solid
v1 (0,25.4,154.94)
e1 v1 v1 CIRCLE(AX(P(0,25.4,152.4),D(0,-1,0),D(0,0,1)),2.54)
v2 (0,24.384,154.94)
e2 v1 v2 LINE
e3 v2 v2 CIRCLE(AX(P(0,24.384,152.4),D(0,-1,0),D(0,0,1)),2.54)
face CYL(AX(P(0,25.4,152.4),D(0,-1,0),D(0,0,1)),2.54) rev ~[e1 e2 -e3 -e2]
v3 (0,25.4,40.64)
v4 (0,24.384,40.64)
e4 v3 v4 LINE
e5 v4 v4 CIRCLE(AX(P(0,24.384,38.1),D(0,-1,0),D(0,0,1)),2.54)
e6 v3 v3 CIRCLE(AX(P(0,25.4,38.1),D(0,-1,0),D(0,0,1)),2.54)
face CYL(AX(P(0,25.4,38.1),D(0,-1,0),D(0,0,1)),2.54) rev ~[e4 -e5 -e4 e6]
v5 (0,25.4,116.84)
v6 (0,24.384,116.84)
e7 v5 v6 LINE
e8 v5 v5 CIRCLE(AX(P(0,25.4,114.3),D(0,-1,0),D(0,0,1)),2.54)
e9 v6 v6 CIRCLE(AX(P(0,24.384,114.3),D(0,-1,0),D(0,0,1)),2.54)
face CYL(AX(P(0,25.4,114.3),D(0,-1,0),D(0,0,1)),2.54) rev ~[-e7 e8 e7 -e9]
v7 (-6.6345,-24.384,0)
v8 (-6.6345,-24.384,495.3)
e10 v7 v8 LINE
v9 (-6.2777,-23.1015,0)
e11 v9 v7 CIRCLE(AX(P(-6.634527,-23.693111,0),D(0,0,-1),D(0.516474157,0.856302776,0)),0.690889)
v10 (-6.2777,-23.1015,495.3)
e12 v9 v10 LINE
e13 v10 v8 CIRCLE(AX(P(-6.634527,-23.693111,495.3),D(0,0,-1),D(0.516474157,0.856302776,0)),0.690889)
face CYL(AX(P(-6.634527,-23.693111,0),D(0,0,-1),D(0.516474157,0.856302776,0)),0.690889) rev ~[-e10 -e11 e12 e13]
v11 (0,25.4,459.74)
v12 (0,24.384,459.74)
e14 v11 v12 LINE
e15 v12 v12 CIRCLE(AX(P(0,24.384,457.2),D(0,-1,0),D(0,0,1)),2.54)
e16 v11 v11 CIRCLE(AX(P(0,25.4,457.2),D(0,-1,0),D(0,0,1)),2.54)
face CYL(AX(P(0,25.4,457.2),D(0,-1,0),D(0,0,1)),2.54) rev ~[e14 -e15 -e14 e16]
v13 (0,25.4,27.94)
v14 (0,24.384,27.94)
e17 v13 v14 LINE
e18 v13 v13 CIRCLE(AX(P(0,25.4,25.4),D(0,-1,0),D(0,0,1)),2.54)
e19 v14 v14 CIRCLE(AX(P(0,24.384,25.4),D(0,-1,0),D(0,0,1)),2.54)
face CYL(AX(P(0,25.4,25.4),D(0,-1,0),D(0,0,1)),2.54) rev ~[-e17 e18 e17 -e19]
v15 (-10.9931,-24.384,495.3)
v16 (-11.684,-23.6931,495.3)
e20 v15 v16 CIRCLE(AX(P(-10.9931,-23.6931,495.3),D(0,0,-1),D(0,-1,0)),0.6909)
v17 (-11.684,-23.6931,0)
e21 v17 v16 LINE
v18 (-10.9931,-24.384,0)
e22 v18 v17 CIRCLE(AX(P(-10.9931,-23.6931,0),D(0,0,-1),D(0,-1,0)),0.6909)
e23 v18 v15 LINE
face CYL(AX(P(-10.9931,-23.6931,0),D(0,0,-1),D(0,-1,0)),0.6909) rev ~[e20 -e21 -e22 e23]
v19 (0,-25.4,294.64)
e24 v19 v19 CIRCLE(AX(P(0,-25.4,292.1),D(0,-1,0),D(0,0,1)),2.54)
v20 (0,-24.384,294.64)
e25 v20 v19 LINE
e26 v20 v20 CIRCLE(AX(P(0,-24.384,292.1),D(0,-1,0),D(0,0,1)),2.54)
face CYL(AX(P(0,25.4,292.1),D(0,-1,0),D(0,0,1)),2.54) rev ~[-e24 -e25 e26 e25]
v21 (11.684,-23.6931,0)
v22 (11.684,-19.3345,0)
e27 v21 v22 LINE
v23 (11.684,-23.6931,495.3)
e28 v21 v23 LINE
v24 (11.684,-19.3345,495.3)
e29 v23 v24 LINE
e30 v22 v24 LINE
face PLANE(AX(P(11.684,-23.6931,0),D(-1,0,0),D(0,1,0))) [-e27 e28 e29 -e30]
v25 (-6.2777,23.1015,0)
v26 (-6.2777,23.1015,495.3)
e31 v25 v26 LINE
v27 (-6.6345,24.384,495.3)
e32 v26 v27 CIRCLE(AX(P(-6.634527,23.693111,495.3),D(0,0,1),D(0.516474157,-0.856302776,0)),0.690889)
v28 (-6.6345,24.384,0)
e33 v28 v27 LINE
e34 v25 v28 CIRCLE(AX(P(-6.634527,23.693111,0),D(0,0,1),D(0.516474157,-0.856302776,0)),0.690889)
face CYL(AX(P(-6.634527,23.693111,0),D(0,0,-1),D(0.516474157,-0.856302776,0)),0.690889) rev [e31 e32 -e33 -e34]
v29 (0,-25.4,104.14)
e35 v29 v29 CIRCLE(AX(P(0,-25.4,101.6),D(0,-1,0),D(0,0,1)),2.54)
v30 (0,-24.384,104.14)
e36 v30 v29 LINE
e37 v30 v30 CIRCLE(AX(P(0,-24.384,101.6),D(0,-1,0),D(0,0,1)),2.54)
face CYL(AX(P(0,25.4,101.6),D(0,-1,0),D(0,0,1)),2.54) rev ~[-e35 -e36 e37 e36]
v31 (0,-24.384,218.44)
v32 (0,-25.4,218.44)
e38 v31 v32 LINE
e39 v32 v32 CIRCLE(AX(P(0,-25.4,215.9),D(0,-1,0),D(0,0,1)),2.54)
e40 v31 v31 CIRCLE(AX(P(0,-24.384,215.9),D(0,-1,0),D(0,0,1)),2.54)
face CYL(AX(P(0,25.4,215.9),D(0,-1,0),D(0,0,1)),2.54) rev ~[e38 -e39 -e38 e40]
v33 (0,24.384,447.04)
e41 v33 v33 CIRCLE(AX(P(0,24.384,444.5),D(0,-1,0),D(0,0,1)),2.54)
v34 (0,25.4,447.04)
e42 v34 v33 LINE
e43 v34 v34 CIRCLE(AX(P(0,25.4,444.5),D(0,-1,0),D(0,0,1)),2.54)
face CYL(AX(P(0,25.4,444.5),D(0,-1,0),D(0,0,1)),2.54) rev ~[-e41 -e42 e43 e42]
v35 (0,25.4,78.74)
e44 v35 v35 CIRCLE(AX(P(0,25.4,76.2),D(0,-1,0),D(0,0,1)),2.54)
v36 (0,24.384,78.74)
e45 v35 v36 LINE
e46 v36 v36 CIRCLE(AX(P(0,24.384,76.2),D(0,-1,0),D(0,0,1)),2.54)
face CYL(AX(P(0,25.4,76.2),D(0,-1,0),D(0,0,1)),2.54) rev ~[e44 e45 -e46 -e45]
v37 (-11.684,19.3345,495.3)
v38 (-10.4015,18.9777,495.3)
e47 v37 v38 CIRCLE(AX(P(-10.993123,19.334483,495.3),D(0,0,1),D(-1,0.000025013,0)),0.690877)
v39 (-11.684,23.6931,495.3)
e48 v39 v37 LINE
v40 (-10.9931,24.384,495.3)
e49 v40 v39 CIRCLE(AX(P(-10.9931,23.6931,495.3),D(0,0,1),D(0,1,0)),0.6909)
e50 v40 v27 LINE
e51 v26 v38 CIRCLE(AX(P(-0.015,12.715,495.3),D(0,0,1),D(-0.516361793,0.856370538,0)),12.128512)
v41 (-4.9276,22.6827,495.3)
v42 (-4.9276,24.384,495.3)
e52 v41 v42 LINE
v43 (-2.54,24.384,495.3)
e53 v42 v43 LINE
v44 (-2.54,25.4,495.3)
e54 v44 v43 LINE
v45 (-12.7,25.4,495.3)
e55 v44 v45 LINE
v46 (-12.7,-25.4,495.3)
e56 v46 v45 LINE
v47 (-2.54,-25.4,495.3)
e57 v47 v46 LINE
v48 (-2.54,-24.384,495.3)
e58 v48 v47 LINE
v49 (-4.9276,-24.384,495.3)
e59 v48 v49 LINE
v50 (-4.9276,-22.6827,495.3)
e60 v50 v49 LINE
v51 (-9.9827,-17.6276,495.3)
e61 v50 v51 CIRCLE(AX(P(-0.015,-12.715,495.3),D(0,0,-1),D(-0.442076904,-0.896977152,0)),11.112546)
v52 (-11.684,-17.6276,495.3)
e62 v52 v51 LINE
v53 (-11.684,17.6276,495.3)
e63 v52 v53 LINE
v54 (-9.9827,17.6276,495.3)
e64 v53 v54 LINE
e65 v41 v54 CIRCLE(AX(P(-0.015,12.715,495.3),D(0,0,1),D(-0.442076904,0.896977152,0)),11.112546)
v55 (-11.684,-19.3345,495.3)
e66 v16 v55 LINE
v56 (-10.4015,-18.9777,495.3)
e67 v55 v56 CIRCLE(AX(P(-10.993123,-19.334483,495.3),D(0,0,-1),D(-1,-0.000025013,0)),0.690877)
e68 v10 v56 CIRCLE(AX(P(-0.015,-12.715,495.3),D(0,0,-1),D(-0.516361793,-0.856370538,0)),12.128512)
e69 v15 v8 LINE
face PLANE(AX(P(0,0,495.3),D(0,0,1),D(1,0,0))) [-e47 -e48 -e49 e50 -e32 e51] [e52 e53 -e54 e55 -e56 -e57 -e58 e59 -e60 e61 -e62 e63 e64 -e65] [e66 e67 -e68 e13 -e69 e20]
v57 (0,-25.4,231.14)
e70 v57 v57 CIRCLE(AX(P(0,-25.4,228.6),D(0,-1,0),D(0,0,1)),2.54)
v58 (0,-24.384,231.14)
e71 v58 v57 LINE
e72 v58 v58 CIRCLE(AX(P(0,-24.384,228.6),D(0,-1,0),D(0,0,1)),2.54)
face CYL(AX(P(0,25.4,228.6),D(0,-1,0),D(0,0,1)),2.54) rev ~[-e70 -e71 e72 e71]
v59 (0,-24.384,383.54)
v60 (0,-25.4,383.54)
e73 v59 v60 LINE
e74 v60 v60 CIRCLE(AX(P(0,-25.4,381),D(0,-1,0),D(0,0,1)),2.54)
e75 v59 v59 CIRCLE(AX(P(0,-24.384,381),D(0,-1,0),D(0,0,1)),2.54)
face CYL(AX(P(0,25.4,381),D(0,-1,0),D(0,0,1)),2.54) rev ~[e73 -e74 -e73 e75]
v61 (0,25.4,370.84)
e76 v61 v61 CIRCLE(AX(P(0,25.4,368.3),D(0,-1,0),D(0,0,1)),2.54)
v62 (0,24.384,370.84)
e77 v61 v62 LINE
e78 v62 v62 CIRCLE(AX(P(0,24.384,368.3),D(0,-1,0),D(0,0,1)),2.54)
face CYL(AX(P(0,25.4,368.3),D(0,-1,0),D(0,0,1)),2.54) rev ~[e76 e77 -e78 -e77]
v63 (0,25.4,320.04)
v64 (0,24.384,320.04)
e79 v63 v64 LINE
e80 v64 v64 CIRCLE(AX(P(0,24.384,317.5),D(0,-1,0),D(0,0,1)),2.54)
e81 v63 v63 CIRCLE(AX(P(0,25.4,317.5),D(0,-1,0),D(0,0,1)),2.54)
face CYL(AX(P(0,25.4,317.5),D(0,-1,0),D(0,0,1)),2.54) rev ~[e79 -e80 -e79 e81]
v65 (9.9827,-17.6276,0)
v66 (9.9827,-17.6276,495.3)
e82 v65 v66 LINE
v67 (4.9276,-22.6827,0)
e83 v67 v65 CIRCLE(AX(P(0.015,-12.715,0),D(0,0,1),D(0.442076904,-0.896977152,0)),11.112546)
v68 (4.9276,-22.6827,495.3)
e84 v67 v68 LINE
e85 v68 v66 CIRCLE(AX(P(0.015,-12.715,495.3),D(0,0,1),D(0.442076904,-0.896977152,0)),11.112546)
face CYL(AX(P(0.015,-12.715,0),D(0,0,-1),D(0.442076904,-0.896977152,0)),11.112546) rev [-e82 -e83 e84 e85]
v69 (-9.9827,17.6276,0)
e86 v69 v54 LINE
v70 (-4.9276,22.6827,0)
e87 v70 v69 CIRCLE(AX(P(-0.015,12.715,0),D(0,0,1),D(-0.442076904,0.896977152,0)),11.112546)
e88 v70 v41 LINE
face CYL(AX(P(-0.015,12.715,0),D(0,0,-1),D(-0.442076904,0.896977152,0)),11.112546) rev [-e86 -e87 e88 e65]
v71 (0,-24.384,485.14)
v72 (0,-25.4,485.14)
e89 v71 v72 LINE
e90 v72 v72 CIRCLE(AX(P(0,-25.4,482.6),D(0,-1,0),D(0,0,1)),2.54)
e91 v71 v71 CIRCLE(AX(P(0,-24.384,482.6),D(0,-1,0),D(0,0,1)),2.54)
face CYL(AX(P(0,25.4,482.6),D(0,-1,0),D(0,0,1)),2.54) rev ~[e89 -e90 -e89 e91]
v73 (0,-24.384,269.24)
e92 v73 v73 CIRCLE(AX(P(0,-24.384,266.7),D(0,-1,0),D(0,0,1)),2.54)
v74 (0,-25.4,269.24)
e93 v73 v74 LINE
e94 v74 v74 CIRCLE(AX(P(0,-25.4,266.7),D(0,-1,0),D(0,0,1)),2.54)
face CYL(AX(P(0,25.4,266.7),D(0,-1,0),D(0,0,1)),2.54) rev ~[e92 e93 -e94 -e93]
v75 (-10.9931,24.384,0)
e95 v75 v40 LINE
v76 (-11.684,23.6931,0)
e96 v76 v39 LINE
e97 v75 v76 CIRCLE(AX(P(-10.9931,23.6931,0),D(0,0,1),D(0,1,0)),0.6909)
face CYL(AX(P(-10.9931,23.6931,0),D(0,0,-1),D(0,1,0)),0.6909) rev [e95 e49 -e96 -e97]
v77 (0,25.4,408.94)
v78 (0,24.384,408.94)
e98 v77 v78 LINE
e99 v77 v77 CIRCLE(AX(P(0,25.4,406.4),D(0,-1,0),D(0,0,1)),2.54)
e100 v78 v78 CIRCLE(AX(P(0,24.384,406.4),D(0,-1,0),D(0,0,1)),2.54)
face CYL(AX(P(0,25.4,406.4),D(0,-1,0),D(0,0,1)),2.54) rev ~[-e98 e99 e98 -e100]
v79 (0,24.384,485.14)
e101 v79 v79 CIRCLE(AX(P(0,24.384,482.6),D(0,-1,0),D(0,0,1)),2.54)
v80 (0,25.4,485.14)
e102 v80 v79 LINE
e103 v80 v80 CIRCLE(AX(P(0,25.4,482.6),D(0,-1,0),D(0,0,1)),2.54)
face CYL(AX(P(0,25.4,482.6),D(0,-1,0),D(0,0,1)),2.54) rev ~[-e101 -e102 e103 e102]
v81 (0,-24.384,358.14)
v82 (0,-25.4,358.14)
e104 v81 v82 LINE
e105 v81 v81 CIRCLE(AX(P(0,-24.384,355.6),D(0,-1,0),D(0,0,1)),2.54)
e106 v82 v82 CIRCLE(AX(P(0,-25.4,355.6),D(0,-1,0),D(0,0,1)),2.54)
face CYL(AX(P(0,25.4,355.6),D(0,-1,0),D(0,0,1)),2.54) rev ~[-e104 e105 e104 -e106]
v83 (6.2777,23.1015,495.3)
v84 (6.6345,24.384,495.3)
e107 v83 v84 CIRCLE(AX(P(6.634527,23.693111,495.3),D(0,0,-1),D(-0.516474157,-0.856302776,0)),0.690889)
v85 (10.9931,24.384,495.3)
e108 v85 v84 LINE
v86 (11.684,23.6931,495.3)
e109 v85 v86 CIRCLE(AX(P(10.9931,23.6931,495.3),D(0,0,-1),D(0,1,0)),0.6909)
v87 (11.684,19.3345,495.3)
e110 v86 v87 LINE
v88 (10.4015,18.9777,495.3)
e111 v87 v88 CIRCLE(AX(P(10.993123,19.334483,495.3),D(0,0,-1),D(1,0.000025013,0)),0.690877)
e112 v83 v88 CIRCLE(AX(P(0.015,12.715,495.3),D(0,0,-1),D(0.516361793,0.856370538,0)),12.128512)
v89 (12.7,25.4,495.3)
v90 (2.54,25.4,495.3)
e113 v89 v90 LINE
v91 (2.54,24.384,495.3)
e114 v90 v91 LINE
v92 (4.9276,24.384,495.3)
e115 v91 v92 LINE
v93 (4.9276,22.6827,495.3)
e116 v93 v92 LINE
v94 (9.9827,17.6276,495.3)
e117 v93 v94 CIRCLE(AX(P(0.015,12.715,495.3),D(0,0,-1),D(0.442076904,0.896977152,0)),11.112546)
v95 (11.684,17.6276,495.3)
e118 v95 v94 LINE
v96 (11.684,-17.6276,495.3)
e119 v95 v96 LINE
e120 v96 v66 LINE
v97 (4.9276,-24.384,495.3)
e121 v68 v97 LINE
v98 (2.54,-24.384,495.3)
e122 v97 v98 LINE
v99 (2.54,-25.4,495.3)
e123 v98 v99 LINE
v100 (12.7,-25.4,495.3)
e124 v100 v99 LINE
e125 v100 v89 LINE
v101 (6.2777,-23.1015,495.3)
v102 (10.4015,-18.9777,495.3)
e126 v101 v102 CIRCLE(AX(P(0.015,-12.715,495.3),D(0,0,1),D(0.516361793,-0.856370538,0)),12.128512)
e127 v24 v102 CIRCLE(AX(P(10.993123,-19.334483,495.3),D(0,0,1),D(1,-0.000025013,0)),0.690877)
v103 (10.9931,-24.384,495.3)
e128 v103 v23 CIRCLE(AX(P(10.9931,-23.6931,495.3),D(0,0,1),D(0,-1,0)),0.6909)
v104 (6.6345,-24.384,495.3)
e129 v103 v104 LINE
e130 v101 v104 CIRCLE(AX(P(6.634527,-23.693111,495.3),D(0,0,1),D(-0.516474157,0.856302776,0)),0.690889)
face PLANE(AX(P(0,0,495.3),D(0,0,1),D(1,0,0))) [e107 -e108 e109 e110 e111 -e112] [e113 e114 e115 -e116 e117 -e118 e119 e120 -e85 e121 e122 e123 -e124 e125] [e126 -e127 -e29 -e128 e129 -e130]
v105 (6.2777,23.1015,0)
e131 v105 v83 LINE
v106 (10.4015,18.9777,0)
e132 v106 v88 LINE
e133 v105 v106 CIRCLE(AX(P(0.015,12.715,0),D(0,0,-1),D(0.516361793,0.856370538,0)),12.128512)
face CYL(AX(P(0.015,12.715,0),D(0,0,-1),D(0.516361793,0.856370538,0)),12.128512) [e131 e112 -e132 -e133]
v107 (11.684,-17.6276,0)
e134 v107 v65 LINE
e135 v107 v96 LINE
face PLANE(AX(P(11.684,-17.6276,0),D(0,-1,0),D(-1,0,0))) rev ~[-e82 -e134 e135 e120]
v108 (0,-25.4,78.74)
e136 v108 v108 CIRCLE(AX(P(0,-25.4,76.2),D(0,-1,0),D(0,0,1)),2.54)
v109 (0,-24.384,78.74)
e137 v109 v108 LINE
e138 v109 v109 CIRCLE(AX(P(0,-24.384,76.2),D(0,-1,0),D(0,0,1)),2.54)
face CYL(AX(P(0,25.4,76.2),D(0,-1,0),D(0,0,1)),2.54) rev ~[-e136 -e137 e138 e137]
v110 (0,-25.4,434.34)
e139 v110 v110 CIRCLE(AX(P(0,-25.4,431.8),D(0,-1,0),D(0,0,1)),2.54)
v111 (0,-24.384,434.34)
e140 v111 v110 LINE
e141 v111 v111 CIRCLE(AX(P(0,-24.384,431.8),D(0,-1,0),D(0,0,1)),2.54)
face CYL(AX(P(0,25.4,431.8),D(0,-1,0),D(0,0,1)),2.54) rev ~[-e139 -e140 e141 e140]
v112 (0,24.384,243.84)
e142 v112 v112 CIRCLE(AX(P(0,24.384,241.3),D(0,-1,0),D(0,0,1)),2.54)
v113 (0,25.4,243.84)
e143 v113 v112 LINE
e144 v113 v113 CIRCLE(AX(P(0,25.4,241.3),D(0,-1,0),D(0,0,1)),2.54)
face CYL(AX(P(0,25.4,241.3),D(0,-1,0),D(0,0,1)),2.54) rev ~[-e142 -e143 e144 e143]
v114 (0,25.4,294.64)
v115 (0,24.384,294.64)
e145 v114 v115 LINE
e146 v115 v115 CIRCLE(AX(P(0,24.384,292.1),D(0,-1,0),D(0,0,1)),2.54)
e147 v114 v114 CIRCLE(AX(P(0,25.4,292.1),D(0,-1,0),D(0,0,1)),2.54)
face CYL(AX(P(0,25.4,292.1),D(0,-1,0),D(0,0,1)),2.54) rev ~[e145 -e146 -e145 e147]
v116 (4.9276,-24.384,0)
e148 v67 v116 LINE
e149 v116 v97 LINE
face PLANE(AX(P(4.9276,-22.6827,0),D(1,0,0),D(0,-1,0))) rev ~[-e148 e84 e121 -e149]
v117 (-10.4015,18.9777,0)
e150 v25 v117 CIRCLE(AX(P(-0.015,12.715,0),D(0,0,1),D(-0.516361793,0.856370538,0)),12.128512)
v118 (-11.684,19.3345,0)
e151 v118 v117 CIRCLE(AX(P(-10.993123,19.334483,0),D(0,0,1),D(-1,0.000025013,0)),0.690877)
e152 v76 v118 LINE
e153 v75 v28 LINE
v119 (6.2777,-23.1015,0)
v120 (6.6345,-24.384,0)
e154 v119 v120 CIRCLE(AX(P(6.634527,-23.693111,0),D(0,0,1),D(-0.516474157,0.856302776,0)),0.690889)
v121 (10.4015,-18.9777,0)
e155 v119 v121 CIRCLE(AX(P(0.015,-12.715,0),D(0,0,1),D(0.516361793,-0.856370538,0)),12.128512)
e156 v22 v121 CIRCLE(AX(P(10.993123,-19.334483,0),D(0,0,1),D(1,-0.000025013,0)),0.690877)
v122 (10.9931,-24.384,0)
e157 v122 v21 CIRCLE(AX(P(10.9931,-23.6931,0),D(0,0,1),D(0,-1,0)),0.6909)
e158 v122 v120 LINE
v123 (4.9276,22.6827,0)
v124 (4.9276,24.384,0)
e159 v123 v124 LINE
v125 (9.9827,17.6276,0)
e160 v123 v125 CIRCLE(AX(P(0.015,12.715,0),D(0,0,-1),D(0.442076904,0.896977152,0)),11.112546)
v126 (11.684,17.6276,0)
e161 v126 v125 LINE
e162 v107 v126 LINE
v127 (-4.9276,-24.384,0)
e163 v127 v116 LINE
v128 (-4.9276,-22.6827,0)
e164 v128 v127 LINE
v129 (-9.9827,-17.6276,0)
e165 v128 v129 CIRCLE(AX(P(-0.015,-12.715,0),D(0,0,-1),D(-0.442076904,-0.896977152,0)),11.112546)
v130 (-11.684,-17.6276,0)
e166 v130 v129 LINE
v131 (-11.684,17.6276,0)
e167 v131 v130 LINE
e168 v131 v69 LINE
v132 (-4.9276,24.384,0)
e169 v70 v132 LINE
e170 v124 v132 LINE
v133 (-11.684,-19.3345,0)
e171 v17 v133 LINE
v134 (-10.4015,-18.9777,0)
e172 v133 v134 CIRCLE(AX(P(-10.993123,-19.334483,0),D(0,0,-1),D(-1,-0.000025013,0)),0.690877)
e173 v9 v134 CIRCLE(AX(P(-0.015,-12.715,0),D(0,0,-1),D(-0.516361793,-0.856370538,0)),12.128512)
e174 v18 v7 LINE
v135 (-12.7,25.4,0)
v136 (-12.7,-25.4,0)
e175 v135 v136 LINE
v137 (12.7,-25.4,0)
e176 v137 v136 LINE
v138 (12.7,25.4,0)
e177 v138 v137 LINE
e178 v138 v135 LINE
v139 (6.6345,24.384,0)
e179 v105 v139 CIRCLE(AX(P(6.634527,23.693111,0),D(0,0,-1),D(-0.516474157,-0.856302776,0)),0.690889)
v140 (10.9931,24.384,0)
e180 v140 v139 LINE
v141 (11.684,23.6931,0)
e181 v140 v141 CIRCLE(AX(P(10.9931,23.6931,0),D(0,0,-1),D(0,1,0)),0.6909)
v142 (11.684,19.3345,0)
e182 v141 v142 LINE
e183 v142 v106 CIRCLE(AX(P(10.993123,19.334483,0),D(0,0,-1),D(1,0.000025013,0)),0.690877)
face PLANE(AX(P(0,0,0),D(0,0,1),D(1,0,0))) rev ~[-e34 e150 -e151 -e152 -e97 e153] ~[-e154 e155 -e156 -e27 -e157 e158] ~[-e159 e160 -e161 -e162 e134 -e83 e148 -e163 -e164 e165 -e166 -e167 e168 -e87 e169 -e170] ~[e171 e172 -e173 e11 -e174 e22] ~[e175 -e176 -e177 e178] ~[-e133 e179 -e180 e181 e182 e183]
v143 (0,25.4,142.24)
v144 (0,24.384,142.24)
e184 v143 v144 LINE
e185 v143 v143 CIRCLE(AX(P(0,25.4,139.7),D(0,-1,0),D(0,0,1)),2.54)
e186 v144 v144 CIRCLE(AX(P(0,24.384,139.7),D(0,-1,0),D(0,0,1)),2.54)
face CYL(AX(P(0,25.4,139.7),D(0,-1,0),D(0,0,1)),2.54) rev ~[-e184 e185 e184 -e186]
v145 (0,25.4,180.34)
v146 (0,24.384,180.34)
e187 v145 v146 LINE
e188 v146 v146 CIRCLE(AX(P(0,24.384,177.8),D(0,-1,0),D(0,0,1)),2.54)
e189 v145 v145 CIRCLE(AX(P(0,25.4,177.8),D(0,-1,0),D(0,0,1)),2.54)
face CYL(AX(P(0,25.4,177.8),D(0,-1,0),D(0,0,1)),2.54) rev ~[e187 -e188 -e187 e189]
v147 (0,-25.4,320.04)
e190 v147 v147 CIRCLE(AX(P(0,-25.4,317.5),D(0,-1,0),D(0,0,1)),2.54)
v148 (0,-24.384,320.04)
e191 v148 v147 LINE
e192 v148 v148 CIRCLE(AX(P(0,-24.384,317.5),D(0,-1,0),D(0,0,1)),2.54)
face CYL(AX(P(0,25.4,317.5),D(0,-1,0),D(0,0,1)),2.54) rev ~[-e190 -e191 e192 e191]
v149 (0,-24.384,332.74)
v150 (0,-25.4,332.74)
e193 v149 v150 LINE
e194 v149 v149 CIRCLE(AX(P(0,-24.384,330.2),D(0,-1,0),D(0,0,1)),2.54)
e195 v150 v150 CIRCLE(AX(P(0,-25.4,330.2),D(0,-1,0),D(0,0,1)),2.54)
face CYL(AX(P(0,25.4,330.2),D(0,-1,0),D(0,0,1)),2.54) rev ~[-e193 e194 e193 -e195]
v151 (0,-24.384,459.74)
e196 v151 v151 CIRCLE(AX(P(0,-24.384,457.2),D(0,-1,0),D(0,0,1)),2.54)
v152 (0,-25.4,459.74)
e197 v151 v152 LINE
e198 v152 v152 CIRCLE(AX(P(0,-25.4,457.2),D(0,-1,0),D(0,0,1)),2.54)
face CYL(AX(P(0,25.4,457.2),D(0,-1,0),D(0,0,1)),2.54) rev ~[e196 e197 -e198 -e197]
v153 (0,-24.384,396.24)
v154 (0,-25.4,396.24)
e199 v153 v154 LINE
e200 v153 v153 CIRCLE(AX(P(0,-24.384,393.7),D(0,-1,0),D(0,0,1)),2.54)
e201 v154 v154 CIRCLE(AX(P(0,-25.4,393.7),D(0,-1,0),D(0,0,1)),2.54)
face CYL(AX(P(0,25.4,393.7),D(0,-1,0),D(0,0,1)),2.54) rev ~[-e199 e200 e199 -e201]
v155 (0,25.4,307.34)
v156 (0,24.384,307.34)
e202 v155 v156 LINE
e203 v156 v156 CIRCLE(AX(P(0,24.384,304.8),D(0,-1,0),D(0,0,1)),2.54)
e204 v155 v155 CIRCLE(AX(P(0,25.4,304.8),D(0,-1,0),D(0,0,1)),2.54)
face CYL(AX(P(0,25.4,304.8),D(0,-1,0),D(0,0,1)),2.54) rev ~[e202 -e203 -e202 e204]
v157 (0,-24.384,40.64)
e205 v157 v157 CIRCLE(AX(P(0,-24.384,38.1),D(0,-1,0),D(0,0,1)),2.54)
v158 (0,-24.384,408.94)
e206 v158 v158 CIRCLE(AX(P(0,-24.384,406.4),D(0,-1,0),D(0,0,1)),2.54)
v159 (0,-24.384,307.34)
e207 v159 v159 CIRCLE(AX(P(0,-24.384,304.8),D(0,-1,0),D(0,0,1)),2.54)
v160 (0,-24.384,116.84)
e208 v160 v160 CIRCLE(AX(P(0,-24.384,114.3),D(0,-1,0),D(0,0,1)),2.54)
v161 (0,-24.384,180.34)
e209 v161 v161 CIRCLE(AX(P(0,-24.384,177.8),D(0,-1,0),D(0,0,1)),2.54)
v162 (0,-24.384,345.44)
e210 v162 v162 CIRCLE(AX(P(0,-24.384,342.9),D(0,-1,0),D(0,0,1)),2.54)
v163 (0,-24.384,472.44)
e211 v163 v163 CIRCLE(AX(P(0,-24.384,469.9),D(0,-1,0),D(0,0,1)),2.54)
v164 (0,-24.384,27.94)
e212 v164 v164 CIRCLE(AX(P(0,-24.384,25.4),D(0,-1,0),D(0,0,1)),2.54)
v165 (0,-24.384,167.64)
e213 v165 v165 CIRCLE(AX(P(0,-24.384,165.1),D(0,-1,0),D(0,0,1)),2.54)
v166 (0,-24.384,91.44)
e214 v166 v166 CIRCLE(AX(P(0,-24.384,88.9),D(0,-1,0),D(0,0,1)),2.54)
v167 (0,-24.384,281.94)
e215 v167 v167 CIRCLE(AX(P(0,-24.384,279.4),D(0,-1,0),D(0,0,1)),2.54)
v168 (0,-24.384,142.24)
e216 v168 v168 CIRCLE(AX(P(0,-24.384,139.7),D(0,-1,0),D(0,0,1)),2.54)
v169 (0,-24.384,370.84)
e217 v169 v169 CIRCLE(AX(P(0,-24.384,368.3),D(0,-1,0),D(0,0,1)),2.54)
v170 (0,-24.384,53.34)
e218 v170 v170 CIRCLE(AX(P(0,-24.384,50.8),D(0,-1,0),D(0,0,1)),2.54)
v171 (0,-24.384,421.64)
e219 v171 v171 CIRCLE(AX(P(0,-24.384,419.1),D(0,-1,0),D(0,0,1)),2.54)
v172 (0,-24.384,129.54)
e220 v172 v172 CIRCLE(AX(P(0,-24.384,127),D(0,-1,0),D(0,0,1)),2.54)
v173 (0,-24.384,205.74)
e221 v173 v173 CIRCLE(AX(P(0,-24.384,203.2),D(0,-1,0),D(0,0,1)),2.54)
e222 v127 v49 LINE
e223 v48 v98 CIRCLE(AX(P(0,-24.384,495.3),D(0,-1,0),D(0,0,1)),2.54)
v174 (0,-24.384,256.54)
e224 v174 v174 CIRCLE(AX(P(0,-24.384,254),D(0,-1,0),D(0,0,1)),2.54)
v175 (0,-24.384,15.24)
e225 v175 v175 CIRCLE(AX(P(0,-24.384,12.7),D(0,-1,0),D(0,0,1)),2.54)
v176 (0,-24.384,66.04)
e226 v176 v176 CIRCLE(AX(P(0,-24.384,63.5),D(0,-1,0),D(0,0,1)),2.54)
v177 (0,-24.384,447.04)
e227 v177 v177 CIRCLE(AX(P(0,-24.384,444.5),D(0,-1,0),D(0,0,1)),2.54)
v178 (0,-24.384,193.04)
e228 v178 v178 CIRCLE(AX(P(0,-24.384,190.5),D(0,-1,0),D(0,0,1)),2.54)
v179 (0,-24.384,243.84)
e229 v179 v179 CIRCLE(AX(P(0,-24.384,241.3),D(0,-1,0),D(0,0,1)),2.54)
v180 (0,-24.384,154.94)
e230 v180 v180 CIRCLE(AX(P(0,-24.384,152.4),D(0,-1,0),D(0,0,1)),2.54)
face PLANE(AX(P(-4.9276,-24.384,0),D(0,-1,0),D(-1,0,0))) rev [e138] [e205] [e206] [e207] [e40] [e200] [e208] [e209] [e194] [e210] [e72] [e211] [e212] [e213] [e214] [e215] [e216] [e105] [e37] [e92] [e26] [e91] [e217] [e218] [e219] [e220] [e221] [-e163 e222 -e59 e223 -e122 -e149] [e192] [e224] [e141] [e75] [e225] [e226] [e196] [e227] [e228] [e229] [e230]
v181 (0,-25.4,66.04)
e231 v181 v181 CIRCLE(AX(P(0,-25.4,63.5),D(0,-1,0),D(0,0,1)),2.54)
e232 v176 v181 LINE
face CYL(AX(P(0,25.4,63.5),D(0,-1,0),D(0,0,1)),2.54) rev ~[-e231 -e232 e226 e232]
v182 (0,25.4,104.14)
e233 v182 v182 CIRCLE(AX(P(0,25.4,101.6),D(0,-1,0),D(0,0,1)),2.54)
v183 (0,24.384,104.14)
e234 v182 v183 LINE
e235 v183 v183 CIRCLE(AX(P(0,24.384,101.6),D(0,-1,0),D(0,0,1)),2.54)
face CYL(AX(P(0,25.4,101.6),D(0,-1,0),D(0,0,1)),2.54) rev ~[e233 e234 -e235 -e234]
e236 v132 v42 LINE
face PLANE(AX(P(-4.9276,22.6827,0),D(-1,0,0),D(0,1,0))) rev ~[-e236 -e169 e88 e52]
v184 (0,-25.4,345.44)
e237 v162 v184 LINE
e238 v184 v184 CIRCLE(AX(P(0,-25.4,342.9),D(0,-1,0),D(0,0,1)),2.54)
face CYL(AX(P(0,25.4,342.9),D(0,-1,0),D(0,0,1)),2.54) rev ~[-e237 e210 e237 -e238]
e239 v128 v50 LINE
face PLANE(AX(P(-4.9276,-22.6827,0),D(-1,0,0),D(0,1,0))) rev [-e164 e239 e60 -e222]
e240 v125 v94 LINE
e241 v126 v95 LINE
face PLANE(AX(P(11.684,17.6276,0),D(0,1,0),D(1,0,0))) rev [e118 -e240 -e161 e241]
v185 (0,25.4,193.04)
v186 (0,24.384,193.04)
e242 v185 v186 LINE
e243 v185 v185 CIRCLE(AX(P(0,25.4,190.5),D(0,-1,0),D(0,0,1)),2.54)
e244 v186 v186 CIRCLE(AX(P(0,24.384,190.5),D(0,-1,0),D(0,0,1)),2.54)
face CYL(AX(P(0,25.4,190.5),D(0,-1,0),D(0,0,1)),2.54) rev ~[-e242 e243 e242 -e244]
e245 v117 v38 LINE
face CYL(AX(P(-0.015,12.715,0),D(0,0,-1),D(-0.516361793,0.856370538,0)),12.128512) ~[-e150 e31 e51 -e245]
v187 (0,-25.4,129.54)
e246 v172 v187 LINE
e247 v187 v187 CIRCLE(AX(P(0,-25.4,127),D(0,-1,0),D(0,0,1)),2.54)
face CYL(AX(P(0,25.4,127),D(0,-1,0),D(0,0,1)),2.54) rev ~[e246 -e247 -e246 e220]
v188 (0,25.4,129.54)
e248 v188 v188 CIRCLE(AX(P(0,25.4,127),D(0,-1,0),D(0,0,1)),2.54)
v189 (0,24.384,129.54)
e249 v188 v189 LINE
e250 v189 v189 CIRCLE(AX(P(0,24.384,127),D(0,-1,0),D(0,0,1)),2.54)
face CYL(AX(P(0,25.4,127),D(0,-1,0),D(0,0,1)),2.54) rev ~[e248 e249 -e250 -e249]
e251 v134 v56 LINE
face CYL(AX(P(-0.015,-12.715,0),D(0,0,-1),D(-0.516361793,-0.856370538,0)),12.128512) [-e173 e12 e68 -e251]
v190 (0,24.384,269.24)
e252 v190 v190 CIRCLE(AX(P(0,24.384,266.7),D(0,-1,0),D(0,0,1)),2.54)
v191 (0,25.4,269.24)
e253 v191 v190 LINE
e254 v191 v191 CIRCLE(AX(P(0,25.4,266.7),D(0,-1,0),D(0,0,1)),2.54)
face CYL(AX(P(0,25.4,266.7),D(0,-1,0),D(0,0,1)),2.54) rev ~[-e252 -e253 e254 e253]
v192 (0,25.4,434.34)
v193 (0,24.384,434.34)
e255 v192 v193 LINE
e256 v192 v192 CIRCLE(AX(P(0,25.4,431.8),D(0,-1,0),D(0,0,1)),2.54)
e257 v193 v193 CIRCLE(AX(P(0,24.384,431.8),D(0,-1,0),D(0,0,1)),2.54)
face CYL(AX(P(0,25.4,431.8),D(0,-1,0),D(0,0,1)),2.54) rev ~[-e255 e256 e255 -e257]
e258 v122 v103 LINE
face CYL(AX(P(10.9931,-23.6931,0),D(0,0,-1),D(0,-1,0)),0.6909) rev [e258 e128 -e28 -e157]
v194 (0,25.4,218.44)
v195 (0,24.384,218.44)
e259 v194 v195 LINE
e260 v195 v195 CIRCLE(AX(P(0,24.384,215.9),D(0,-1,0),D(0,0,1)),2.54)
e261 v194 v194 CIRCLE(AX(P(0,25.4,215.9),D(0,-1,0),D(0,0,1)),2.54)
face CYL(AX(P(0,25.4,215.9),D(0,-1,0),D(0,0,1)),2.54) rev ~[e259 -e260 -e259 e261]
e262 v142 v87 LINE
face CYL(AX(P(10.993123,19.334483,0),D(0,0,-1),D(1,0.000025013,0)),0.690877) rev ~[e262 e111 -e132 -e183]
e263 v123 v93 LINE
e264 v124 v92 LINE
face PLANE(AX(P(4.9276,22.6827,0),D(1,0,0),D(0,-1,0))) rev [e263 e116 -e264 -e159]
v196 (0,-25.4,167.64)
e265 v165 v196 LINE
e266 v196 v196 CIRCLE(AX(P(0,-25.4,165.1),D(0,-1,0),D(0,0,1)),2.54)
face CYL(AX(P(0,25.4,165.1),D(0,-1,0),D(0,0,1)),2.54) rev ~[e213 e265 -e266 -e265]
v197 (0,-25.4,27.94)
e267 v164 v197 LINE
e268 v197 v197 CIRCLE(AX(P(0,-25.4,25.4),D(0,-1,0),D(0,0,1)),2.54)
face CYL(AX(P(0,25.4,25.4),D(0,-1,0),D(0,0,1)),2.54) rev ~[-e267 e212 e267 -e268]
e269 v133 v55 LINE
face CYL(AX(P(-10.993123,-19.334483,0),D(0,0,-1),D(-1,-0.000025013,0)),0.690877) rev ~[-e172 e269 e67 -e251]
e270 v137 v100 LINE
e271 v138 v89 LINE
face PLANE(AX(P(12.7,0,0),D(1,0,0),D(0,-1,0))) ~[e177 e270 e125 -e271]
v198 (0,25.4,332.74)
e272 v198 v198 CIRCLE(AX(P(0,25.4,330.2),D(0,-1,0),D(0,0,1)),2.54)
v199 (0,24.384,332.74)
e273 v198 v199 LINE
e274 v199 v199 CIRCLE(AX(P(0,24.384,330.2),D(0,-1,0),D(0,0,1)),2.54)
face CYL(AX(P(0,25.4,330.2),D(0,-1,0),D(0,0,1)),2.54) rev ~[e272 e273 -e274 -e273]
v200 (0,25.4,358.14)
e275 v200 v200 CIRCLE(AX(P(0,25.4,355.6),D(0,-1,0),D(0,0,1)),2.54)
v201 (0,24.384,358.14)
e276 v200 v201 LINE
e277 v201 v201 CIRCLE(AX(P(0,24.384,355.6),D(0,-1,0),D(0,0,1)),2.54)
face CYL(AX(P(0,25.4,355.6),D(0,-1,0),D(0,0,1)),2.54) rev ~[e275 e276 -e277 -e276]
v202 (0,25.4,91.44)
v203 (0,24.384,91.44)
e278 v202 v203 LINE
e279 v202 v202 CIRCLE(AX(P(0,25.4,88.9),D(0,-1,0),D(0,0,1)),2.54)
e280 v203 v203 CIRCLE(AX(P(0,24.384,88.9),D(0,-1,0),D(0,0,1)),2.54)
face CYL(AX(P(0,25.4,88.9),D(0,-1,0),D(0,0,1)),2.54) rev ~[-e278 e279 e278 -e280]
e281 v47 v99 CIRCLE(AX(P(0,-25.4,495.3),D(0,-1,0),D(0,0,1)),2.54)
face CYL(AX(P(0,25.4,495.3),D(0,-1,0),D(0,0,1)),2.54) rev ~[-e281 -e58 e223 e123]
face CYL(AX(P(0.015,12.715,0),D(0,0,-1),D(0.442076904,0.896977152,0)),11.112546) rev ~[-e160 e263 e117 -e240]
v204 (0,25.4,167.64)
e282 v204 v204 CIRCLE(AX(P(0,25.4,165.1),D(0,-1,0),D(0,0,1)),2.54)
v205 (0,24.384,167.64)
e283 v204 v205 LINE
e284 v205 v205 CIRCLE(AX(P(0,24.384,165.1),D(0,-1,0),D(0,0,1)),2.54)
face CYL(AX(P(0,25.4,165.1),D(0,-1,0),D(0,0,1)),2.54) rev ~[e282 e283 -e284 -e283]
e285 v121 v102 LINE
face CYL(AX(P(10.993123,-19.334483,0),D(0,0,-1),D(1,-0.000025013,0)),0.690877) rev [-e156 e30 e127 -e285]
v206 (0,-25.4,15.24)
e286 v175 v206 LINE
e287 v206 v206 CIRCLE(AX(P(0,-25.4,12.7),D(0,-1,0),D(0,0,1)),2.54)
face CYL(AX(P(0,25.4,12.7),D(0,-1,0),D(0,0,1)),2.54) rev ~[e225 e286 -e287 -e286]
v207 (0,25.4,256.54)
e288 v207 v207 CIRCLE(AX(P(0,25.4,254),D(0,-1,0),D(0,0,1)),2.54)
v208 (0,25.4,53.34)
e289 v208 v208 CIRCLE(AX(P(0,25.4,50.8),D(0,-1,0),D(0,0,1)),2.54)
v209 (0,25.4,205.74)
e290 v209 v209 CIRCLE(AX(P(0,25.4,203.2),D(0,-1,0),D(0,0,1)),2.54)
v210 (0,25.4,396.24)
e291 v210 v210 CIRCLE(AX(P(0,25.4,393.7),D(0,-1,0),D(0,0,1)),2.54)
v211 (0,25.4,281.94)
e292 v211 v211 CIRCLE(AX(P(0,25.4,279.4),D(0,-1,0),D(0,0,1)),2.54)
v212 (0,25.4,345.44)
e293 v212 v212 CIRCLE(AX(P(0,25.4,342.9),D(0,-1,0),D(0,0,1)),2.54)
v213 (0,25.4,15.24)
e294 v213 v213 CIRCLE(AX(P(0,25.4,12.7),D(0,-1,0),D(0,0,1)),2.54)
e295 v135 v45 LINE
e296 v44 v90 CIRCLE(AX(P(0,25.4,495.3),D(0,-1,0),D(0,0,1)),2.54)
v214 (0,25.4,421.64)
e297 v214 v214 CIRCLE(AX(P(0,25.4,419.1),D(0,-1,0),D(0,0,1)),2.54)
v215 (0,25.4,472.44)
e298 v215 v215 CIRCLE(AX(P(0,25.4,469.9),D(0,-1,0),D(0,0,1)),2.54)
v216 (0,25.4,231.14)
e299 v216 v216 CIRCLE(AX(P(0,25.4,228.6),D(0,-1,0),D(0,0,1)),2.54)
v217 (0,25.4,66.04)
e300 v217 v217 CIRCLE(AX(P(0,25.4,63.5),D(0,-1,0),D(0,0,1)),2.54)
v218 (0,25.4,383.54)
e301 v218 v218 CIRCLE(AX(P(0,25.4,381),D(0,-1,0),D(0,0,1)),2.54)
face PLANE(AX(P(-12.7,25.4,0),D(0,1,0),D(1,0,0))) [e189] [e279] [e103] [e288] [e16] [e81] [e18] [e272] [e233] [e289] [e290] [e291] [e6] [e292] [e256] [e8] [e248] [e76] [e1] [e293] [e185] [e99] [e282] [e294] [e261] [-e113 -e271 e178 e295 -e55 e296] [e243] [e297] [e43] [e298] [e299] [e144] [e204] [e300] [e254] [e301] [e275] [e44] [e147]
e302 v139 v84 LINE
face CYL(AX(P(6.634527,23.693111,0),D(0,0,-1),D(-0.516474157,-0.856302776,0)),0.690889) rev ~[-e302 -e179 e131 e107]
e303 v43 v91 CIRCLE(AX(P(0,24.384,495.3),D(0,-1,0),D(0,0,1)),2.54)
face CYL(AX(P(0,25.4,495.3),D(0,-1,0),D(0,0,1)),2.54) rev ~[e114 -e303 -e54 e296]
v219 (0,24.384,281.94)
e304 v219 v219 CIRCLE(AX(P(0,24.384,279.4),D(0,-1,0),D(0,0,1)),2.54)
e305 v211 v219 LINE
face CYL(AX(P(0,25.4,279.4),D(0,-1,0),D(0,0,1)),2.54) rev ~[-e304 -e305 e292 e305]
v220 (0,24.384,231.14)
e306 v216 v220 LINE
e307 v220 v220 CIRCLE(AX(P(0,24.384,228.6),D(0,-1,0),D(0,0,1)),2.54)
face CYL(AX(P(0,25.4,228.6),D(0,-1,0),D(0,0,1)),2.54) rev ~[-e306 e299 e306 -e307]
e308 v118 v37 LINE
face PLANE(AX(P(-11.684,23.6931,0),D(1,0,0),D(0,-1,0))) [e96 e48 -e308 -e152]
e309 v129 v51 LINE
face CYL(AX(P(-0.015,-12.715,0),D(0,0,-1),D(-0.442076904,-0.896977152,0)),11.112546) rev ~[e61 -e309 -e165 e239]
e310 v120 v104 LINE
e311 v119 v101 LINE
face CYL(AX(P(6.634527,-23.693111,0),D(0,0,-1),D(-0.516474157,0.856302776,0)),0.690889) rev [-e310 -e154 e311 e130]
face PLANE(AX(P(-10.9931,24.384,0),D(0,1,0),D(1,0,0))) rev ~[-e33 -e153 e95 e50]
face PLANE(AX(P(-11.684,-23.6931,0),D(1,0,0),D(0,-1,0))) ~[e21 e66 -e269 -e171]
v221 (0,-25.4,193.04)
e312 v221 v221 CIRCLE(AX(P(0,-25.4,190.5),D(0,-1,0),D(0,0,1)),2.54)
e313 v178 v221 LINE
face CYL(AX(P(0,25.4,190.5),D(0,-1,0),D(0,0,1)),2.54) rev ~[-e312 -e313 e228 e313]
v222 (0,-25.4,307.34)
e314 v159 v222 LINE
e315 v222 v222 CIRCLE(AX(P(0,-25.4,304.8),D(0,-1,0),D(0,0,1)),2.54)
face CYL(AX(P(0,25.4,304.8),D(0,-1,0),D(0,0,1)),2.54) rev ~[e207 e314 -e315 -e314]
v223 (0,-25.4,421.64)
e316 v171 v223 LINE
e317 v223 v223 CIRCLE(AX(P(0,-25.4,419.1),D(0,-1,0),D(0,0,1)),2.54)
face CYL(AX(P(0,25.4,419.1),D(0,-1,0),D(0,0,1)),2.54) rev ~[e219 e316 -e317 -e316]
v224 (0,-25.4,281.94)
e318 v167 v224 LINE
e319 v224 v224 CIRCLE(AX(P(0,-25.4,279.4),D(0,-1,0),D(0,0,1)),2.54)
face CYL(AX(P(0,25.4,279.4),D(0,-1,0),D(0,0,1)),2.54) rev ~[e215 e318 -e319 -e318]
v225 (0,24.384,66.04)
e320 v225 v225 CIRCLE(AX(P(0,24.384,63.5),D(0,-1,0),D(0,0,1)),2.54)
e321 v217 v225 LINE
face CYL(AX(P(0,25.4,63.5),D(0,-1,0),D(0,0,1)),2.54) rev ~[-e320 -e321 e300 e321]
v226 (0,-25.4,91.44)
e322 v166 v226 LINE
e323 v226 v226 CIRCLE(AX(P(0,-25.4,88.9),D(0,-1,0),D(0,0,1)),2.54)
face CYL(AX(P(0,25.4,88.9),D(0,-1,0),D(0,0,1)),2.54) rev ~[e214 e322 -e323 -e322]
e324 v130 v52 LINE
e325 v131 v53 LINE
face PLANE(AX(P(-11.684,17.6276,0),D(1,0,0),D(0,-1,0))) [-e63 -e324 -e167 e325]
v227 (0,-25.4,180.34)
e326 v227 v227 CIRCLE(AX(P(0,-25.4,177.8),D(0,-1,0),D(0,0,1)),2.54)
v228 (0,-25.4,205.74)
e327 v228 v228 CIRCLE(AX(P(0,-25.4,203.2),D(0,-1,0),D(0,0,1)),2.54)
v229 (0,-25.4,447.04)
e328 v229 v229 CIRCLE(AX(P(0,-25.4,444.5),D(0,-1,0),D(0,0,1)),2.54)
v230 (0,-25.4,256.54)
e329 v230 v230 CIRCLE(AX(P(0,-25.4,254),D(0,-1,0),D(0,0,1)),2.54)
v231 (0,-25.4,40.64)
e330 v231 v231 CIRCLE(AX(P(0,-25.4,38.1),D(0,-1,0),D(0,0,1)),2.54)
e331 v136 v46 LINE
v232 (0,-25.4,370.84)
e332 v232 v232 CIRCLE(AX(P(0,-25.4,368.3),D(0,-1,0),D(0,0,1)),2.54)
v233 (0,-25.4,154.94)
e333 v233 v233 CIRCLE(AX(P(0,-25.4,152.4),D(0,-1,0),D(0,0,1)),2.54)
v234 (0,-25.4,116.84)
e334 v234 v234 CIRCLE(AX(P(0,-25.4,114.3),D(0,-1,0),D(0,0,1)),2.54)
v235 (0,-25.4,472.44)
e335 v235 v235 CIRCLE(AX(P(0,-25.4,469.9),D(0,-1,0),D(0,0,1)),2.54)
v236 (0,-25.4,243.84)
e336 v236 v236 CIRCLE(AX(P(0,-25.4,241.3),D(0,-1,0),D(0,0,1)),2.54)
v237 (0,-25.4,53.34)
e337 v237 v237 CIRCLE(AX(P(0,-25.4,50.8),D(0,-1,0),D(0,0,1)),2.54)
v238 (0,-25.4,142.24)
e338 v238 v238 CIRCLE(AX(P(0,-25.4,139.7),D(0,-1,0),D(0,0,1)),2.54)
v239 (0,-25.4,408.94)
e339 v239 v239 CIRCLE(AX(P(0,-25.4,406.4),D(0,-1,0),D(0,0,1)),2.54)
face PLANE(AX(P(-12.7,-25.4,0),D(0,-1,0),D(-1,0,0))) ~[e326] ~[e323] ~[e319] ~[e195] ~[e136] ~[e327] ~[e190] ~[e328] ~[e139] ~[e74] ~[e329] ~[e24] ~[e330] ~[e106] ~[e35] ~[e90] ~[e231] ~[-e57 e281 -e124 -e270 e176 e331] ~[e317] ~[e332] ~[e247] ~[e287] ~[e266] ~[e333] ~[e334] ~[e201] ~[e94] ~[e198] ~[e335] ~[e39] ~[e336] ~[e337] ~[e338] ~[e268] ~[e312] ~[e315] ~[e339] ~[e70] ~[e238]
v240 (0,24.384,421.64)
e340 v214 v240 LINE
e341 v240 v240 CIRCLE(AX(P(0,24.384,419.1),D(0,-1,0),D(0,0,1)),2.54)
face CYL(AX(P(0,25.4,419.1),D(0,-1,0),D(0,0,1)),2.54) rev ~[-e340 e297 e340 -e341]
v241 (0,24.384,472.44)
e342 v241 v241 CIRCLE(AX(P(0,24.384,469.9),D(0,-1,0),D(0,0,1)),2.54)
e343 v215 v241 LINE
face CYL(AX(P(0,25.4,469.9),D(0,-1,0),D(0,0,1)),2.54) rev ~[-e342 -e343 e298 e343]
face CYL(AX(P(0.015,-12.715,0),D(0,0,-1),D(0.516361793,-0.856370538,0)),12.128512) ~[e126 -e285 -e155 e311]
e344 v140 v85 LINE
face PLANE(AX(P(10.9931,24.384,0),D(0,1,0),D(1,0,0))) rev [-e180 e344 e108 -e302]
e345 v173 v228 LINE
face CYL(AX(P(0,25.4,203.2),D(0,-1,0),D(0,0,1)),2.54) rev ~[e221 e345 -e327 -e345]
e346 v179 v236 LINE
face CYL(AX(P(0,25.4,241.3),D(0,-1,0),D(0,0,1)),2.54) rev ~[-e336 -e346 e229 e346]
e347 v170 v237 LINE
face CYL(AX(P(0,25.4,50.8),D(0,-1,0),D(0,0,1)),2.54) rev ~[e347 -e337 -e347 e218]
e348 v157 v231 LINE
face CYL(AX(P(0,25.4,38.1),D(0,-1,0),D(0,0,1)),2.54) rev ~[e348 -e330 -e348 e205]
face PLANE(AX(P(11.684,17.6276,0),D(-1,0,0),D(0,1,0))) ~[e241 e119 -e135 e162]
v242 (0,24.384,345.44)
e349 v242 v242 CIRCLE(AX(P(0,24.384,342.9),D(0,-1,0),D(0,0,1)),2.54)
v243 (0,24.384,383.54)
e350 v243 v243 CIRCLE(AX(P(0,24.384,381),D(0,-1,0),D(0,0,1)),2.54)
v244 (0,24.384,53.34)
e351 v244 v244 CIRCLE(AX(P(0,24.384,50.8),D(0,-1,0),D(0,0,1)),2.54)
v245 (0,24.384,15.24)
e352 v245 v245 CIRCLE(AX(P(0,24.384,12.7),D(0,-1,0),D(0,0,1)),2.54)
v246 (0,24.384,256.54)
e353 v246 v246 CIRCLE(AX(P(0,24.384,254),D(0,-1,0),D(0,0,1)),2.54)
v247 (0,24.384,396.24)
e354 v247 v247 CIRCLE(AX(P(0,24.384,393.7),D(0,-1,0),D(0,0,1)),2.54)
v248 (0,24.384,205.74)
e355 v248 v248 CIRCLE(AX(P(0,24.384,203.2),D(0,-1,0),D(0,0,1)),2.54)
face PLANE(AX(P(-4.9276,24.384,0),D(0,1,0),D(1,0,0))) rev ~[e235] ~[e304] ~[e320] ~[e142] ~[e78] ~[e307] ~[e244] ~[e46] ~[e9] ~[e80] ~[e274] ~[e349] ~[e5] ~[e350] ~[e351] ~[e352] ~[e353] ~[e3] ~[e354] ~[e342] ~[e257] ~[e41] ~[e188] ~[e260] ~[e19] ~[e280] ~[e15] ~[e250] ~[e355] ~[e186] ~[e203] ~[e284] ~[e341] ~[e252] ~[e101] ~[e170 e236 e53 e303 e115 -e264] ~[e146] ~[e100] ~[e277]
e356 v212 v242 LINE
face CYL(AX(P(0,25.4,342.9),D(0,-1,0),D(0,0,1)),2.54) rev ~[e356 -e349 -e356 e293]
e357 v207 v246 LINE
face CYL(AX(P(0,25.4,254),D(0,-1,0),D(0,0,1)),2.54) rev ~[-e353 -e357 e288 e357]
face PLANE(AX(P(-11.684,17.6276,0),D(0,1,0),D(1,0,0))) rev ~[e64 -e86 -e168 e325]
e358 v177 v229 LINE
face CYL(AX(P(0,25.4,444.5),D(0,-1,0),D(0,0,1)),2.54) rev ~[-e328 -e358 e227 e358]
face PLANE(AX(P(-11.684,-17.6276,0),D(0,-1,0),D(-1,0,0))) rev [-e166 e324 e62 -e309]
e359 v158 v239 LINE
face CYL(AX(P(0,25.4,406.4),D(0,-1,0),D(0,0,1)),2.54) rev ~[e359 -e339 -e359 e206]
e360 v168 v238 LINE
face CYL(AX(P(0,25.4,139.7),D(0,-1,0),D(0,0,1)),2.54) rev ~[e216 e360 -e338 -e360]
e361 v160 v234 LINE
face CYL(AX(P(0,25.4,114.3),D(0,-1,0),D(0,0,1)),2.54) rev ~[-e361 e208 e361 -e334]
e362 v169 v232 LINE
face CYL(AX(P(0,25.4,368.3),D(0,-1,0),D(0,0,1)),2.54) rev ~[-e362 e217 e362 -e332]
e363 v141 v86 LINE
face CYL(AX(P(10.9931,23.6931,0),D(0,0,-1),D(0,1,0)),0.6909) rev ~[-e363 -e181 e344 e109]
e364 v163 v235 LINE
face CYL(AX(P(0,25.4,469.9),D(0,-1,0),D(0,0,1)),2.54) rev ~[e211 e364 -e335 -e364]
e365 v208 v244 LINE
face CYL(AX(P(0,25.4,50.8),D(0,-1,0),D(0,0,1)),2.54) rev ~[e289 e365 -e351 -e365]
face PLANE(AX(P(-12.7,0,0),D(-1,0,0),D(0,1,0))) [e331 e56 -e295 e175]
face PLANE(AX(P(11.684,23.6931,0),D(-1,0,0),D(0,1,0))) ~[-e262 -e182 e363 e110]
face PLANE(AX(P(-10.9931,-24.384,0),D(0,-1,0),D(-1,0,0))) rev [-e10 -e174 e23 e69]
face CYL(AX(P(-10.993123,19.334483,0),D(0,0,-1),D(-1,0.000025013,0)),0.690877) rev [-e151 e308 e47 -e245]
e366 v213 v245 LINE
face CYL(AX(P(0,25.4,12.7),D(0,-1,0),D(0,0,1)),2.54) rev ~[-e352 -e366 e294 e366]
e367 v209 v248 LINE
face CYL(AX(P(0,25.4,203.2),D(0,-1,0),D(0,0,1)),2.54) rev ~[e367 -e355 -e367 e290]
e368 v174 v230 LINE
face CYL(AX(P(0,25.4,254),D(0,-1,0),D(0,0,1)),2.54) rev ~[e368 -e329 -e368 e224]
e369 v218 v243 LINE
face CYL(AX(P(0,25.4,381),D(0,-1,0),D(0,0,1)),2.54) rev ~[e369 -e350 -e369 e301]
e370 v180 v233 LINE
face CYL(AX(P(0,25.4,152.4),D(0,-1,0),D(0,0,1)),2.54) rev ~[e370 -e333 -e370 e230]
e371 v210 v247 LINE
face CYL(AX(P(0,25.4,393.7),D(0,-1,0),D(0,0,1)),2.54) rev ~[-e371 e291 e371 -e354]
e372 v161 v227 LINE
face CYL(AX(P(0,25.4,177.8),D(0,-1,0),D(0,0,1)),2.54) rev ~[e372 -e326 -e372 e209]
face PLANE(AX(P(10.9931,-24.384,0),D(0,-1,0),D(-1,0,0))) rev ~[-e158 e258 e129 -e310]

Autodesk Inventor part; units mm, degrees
ref_plane "YZ Plane" through (0, 0, 0) normal (1, 0, 0) x (0, 1, 0)
ref_plane "XZ Plane" through (0, 0, 0) normal (0, 1, 0) x (-1, 0, 0)
ref_plane "XY Plane" through (0, 0, 0) normal (0, 0, 1) x (1, 0, 0)
sketch "Sketch1" plane through (0, 0, 0) normal (0, 0, 1) x (1, 0, 0)
  line L0 (12.7, -25.4) -> (-12.7, -25.4)
  line L1 (-12.7, -25.4) -> (-12.7, 25.4)
  line L2 (-12.7, 25.4) -> (12.7, 25.4)
  line L3 (12.7, 25.4) -> (12.7, -25.4)
  line L4 (12.7, -25.4) -> (-12.7, 25.4) construction
  line L5 (-12.7, -25.4) -> (12.7, 25.4) construction
  line L6 (-11.684, 23.6931) -> (-11.684, 19.3345)
  line L7 (-10.9931, 24.384) -> (-6.6345, 24.384)
  arc A0 (-6.2777, 23.1015) -> (-10.4015, 18.9777) centre (-0.015, 12.715) ccw
  arc A1 (-10.9931, 24.384) -> (-11.684, 23.6931) centre (-10.9931, 23.6931) ccw
  arc A2 (-6.2777, 23.1015) -> (-6.6345, 24.384) centre (-6.6345, 23.6931) ccw
  arc A3 (-11.684, 19.3345) -> (-10.4015, 18.9777) centre (-10.9931, 19.3345) ccw
  line L8 (-12.7, 17.6276) -> (-9.9827, 17.6276)
  arc A4 (-4.9276, 22.6827) -> (-9.9827, 17.6276) centre (-0.015, 12.715) ccw
  line L9 (-4.9276, 22.6827) -> (-4.9276, 25.4)
  line L10 (-4.9276, 24.384) -> (0, 24.384)
  line L11 (0, 35.56) -> (0, -35.56) projected
  line L12 (-17.78, 0) -> (17.78, 0) projected
  line L13 (-11.684, 17.6276) -> (-11.684, 0)
  point P0 (0, 0)
  point P1 (-11.684, 24.384)
  point P2 (0, 25.4)
  point P3 (-12.7, 0)
  dimension "d0" = 25.4
  dimension "d1" = 50.8
  dimension "d3" = 12.1285
  dimension "d4" = 1.016
  dimension "d5" = 1.016
  dimension "d6" = 0.6909
  dimension "d7" = 0.6909
  dimension "d8" = 5.7404
  dimension "d9" = 1.016
  dimension "d10" = 1.016
  dimension "d11" = 1.016
  dimension "d12" = 1.016
extrude "Extrusion1" add sketch "Sketch1" along normal blind 495.3 contours L1 L8 L13 L12 | L10 L9 L2 L11 | L1 L2 L9 A4 L8
mirror "Mirror1" about plane through (0, 0, 0) normal (1, 0, 0) of "Extrusion1"
mirror "Mirror2" about plane through (0, 0, 0) normal (0, 1, 0) of "Extrusion1", "Mirror1"
sketch "Sketch2" plane through (-12.7, 25.4, 495.3) normal (0, 1, 0) x (1, 0, 0)
  line L0 (12.7, 594.36) -> (12.7, -99.06) construction
  line L1 (-5.08, 495.3) -> (30.48, 495.3) construction
  point P0 (12.7, 495.3)
  point P1 (12.7, 482.6)
  dimension "d15" = 12.7
hole "Hole1" at (0, 25.4, 12.7) direction (0, -1, 0) diameter 5.08 end through all
pattern_linear "Rectangular Pattern1" count 39 spacing 12.7 along (0, 0, 1) of "Hole1"
equation "\"d5\" = d4"
equation "\"d9\" = d4"
equation "\"d10\" = d4"
equation "\"d13\" = LENGTH"
equation "\"LENGTH\" = 495.3"
properties part number "FRAME,MAXTUBE,LIGHT" material "Aluminum 6061 T6 80 Hot Formed"
